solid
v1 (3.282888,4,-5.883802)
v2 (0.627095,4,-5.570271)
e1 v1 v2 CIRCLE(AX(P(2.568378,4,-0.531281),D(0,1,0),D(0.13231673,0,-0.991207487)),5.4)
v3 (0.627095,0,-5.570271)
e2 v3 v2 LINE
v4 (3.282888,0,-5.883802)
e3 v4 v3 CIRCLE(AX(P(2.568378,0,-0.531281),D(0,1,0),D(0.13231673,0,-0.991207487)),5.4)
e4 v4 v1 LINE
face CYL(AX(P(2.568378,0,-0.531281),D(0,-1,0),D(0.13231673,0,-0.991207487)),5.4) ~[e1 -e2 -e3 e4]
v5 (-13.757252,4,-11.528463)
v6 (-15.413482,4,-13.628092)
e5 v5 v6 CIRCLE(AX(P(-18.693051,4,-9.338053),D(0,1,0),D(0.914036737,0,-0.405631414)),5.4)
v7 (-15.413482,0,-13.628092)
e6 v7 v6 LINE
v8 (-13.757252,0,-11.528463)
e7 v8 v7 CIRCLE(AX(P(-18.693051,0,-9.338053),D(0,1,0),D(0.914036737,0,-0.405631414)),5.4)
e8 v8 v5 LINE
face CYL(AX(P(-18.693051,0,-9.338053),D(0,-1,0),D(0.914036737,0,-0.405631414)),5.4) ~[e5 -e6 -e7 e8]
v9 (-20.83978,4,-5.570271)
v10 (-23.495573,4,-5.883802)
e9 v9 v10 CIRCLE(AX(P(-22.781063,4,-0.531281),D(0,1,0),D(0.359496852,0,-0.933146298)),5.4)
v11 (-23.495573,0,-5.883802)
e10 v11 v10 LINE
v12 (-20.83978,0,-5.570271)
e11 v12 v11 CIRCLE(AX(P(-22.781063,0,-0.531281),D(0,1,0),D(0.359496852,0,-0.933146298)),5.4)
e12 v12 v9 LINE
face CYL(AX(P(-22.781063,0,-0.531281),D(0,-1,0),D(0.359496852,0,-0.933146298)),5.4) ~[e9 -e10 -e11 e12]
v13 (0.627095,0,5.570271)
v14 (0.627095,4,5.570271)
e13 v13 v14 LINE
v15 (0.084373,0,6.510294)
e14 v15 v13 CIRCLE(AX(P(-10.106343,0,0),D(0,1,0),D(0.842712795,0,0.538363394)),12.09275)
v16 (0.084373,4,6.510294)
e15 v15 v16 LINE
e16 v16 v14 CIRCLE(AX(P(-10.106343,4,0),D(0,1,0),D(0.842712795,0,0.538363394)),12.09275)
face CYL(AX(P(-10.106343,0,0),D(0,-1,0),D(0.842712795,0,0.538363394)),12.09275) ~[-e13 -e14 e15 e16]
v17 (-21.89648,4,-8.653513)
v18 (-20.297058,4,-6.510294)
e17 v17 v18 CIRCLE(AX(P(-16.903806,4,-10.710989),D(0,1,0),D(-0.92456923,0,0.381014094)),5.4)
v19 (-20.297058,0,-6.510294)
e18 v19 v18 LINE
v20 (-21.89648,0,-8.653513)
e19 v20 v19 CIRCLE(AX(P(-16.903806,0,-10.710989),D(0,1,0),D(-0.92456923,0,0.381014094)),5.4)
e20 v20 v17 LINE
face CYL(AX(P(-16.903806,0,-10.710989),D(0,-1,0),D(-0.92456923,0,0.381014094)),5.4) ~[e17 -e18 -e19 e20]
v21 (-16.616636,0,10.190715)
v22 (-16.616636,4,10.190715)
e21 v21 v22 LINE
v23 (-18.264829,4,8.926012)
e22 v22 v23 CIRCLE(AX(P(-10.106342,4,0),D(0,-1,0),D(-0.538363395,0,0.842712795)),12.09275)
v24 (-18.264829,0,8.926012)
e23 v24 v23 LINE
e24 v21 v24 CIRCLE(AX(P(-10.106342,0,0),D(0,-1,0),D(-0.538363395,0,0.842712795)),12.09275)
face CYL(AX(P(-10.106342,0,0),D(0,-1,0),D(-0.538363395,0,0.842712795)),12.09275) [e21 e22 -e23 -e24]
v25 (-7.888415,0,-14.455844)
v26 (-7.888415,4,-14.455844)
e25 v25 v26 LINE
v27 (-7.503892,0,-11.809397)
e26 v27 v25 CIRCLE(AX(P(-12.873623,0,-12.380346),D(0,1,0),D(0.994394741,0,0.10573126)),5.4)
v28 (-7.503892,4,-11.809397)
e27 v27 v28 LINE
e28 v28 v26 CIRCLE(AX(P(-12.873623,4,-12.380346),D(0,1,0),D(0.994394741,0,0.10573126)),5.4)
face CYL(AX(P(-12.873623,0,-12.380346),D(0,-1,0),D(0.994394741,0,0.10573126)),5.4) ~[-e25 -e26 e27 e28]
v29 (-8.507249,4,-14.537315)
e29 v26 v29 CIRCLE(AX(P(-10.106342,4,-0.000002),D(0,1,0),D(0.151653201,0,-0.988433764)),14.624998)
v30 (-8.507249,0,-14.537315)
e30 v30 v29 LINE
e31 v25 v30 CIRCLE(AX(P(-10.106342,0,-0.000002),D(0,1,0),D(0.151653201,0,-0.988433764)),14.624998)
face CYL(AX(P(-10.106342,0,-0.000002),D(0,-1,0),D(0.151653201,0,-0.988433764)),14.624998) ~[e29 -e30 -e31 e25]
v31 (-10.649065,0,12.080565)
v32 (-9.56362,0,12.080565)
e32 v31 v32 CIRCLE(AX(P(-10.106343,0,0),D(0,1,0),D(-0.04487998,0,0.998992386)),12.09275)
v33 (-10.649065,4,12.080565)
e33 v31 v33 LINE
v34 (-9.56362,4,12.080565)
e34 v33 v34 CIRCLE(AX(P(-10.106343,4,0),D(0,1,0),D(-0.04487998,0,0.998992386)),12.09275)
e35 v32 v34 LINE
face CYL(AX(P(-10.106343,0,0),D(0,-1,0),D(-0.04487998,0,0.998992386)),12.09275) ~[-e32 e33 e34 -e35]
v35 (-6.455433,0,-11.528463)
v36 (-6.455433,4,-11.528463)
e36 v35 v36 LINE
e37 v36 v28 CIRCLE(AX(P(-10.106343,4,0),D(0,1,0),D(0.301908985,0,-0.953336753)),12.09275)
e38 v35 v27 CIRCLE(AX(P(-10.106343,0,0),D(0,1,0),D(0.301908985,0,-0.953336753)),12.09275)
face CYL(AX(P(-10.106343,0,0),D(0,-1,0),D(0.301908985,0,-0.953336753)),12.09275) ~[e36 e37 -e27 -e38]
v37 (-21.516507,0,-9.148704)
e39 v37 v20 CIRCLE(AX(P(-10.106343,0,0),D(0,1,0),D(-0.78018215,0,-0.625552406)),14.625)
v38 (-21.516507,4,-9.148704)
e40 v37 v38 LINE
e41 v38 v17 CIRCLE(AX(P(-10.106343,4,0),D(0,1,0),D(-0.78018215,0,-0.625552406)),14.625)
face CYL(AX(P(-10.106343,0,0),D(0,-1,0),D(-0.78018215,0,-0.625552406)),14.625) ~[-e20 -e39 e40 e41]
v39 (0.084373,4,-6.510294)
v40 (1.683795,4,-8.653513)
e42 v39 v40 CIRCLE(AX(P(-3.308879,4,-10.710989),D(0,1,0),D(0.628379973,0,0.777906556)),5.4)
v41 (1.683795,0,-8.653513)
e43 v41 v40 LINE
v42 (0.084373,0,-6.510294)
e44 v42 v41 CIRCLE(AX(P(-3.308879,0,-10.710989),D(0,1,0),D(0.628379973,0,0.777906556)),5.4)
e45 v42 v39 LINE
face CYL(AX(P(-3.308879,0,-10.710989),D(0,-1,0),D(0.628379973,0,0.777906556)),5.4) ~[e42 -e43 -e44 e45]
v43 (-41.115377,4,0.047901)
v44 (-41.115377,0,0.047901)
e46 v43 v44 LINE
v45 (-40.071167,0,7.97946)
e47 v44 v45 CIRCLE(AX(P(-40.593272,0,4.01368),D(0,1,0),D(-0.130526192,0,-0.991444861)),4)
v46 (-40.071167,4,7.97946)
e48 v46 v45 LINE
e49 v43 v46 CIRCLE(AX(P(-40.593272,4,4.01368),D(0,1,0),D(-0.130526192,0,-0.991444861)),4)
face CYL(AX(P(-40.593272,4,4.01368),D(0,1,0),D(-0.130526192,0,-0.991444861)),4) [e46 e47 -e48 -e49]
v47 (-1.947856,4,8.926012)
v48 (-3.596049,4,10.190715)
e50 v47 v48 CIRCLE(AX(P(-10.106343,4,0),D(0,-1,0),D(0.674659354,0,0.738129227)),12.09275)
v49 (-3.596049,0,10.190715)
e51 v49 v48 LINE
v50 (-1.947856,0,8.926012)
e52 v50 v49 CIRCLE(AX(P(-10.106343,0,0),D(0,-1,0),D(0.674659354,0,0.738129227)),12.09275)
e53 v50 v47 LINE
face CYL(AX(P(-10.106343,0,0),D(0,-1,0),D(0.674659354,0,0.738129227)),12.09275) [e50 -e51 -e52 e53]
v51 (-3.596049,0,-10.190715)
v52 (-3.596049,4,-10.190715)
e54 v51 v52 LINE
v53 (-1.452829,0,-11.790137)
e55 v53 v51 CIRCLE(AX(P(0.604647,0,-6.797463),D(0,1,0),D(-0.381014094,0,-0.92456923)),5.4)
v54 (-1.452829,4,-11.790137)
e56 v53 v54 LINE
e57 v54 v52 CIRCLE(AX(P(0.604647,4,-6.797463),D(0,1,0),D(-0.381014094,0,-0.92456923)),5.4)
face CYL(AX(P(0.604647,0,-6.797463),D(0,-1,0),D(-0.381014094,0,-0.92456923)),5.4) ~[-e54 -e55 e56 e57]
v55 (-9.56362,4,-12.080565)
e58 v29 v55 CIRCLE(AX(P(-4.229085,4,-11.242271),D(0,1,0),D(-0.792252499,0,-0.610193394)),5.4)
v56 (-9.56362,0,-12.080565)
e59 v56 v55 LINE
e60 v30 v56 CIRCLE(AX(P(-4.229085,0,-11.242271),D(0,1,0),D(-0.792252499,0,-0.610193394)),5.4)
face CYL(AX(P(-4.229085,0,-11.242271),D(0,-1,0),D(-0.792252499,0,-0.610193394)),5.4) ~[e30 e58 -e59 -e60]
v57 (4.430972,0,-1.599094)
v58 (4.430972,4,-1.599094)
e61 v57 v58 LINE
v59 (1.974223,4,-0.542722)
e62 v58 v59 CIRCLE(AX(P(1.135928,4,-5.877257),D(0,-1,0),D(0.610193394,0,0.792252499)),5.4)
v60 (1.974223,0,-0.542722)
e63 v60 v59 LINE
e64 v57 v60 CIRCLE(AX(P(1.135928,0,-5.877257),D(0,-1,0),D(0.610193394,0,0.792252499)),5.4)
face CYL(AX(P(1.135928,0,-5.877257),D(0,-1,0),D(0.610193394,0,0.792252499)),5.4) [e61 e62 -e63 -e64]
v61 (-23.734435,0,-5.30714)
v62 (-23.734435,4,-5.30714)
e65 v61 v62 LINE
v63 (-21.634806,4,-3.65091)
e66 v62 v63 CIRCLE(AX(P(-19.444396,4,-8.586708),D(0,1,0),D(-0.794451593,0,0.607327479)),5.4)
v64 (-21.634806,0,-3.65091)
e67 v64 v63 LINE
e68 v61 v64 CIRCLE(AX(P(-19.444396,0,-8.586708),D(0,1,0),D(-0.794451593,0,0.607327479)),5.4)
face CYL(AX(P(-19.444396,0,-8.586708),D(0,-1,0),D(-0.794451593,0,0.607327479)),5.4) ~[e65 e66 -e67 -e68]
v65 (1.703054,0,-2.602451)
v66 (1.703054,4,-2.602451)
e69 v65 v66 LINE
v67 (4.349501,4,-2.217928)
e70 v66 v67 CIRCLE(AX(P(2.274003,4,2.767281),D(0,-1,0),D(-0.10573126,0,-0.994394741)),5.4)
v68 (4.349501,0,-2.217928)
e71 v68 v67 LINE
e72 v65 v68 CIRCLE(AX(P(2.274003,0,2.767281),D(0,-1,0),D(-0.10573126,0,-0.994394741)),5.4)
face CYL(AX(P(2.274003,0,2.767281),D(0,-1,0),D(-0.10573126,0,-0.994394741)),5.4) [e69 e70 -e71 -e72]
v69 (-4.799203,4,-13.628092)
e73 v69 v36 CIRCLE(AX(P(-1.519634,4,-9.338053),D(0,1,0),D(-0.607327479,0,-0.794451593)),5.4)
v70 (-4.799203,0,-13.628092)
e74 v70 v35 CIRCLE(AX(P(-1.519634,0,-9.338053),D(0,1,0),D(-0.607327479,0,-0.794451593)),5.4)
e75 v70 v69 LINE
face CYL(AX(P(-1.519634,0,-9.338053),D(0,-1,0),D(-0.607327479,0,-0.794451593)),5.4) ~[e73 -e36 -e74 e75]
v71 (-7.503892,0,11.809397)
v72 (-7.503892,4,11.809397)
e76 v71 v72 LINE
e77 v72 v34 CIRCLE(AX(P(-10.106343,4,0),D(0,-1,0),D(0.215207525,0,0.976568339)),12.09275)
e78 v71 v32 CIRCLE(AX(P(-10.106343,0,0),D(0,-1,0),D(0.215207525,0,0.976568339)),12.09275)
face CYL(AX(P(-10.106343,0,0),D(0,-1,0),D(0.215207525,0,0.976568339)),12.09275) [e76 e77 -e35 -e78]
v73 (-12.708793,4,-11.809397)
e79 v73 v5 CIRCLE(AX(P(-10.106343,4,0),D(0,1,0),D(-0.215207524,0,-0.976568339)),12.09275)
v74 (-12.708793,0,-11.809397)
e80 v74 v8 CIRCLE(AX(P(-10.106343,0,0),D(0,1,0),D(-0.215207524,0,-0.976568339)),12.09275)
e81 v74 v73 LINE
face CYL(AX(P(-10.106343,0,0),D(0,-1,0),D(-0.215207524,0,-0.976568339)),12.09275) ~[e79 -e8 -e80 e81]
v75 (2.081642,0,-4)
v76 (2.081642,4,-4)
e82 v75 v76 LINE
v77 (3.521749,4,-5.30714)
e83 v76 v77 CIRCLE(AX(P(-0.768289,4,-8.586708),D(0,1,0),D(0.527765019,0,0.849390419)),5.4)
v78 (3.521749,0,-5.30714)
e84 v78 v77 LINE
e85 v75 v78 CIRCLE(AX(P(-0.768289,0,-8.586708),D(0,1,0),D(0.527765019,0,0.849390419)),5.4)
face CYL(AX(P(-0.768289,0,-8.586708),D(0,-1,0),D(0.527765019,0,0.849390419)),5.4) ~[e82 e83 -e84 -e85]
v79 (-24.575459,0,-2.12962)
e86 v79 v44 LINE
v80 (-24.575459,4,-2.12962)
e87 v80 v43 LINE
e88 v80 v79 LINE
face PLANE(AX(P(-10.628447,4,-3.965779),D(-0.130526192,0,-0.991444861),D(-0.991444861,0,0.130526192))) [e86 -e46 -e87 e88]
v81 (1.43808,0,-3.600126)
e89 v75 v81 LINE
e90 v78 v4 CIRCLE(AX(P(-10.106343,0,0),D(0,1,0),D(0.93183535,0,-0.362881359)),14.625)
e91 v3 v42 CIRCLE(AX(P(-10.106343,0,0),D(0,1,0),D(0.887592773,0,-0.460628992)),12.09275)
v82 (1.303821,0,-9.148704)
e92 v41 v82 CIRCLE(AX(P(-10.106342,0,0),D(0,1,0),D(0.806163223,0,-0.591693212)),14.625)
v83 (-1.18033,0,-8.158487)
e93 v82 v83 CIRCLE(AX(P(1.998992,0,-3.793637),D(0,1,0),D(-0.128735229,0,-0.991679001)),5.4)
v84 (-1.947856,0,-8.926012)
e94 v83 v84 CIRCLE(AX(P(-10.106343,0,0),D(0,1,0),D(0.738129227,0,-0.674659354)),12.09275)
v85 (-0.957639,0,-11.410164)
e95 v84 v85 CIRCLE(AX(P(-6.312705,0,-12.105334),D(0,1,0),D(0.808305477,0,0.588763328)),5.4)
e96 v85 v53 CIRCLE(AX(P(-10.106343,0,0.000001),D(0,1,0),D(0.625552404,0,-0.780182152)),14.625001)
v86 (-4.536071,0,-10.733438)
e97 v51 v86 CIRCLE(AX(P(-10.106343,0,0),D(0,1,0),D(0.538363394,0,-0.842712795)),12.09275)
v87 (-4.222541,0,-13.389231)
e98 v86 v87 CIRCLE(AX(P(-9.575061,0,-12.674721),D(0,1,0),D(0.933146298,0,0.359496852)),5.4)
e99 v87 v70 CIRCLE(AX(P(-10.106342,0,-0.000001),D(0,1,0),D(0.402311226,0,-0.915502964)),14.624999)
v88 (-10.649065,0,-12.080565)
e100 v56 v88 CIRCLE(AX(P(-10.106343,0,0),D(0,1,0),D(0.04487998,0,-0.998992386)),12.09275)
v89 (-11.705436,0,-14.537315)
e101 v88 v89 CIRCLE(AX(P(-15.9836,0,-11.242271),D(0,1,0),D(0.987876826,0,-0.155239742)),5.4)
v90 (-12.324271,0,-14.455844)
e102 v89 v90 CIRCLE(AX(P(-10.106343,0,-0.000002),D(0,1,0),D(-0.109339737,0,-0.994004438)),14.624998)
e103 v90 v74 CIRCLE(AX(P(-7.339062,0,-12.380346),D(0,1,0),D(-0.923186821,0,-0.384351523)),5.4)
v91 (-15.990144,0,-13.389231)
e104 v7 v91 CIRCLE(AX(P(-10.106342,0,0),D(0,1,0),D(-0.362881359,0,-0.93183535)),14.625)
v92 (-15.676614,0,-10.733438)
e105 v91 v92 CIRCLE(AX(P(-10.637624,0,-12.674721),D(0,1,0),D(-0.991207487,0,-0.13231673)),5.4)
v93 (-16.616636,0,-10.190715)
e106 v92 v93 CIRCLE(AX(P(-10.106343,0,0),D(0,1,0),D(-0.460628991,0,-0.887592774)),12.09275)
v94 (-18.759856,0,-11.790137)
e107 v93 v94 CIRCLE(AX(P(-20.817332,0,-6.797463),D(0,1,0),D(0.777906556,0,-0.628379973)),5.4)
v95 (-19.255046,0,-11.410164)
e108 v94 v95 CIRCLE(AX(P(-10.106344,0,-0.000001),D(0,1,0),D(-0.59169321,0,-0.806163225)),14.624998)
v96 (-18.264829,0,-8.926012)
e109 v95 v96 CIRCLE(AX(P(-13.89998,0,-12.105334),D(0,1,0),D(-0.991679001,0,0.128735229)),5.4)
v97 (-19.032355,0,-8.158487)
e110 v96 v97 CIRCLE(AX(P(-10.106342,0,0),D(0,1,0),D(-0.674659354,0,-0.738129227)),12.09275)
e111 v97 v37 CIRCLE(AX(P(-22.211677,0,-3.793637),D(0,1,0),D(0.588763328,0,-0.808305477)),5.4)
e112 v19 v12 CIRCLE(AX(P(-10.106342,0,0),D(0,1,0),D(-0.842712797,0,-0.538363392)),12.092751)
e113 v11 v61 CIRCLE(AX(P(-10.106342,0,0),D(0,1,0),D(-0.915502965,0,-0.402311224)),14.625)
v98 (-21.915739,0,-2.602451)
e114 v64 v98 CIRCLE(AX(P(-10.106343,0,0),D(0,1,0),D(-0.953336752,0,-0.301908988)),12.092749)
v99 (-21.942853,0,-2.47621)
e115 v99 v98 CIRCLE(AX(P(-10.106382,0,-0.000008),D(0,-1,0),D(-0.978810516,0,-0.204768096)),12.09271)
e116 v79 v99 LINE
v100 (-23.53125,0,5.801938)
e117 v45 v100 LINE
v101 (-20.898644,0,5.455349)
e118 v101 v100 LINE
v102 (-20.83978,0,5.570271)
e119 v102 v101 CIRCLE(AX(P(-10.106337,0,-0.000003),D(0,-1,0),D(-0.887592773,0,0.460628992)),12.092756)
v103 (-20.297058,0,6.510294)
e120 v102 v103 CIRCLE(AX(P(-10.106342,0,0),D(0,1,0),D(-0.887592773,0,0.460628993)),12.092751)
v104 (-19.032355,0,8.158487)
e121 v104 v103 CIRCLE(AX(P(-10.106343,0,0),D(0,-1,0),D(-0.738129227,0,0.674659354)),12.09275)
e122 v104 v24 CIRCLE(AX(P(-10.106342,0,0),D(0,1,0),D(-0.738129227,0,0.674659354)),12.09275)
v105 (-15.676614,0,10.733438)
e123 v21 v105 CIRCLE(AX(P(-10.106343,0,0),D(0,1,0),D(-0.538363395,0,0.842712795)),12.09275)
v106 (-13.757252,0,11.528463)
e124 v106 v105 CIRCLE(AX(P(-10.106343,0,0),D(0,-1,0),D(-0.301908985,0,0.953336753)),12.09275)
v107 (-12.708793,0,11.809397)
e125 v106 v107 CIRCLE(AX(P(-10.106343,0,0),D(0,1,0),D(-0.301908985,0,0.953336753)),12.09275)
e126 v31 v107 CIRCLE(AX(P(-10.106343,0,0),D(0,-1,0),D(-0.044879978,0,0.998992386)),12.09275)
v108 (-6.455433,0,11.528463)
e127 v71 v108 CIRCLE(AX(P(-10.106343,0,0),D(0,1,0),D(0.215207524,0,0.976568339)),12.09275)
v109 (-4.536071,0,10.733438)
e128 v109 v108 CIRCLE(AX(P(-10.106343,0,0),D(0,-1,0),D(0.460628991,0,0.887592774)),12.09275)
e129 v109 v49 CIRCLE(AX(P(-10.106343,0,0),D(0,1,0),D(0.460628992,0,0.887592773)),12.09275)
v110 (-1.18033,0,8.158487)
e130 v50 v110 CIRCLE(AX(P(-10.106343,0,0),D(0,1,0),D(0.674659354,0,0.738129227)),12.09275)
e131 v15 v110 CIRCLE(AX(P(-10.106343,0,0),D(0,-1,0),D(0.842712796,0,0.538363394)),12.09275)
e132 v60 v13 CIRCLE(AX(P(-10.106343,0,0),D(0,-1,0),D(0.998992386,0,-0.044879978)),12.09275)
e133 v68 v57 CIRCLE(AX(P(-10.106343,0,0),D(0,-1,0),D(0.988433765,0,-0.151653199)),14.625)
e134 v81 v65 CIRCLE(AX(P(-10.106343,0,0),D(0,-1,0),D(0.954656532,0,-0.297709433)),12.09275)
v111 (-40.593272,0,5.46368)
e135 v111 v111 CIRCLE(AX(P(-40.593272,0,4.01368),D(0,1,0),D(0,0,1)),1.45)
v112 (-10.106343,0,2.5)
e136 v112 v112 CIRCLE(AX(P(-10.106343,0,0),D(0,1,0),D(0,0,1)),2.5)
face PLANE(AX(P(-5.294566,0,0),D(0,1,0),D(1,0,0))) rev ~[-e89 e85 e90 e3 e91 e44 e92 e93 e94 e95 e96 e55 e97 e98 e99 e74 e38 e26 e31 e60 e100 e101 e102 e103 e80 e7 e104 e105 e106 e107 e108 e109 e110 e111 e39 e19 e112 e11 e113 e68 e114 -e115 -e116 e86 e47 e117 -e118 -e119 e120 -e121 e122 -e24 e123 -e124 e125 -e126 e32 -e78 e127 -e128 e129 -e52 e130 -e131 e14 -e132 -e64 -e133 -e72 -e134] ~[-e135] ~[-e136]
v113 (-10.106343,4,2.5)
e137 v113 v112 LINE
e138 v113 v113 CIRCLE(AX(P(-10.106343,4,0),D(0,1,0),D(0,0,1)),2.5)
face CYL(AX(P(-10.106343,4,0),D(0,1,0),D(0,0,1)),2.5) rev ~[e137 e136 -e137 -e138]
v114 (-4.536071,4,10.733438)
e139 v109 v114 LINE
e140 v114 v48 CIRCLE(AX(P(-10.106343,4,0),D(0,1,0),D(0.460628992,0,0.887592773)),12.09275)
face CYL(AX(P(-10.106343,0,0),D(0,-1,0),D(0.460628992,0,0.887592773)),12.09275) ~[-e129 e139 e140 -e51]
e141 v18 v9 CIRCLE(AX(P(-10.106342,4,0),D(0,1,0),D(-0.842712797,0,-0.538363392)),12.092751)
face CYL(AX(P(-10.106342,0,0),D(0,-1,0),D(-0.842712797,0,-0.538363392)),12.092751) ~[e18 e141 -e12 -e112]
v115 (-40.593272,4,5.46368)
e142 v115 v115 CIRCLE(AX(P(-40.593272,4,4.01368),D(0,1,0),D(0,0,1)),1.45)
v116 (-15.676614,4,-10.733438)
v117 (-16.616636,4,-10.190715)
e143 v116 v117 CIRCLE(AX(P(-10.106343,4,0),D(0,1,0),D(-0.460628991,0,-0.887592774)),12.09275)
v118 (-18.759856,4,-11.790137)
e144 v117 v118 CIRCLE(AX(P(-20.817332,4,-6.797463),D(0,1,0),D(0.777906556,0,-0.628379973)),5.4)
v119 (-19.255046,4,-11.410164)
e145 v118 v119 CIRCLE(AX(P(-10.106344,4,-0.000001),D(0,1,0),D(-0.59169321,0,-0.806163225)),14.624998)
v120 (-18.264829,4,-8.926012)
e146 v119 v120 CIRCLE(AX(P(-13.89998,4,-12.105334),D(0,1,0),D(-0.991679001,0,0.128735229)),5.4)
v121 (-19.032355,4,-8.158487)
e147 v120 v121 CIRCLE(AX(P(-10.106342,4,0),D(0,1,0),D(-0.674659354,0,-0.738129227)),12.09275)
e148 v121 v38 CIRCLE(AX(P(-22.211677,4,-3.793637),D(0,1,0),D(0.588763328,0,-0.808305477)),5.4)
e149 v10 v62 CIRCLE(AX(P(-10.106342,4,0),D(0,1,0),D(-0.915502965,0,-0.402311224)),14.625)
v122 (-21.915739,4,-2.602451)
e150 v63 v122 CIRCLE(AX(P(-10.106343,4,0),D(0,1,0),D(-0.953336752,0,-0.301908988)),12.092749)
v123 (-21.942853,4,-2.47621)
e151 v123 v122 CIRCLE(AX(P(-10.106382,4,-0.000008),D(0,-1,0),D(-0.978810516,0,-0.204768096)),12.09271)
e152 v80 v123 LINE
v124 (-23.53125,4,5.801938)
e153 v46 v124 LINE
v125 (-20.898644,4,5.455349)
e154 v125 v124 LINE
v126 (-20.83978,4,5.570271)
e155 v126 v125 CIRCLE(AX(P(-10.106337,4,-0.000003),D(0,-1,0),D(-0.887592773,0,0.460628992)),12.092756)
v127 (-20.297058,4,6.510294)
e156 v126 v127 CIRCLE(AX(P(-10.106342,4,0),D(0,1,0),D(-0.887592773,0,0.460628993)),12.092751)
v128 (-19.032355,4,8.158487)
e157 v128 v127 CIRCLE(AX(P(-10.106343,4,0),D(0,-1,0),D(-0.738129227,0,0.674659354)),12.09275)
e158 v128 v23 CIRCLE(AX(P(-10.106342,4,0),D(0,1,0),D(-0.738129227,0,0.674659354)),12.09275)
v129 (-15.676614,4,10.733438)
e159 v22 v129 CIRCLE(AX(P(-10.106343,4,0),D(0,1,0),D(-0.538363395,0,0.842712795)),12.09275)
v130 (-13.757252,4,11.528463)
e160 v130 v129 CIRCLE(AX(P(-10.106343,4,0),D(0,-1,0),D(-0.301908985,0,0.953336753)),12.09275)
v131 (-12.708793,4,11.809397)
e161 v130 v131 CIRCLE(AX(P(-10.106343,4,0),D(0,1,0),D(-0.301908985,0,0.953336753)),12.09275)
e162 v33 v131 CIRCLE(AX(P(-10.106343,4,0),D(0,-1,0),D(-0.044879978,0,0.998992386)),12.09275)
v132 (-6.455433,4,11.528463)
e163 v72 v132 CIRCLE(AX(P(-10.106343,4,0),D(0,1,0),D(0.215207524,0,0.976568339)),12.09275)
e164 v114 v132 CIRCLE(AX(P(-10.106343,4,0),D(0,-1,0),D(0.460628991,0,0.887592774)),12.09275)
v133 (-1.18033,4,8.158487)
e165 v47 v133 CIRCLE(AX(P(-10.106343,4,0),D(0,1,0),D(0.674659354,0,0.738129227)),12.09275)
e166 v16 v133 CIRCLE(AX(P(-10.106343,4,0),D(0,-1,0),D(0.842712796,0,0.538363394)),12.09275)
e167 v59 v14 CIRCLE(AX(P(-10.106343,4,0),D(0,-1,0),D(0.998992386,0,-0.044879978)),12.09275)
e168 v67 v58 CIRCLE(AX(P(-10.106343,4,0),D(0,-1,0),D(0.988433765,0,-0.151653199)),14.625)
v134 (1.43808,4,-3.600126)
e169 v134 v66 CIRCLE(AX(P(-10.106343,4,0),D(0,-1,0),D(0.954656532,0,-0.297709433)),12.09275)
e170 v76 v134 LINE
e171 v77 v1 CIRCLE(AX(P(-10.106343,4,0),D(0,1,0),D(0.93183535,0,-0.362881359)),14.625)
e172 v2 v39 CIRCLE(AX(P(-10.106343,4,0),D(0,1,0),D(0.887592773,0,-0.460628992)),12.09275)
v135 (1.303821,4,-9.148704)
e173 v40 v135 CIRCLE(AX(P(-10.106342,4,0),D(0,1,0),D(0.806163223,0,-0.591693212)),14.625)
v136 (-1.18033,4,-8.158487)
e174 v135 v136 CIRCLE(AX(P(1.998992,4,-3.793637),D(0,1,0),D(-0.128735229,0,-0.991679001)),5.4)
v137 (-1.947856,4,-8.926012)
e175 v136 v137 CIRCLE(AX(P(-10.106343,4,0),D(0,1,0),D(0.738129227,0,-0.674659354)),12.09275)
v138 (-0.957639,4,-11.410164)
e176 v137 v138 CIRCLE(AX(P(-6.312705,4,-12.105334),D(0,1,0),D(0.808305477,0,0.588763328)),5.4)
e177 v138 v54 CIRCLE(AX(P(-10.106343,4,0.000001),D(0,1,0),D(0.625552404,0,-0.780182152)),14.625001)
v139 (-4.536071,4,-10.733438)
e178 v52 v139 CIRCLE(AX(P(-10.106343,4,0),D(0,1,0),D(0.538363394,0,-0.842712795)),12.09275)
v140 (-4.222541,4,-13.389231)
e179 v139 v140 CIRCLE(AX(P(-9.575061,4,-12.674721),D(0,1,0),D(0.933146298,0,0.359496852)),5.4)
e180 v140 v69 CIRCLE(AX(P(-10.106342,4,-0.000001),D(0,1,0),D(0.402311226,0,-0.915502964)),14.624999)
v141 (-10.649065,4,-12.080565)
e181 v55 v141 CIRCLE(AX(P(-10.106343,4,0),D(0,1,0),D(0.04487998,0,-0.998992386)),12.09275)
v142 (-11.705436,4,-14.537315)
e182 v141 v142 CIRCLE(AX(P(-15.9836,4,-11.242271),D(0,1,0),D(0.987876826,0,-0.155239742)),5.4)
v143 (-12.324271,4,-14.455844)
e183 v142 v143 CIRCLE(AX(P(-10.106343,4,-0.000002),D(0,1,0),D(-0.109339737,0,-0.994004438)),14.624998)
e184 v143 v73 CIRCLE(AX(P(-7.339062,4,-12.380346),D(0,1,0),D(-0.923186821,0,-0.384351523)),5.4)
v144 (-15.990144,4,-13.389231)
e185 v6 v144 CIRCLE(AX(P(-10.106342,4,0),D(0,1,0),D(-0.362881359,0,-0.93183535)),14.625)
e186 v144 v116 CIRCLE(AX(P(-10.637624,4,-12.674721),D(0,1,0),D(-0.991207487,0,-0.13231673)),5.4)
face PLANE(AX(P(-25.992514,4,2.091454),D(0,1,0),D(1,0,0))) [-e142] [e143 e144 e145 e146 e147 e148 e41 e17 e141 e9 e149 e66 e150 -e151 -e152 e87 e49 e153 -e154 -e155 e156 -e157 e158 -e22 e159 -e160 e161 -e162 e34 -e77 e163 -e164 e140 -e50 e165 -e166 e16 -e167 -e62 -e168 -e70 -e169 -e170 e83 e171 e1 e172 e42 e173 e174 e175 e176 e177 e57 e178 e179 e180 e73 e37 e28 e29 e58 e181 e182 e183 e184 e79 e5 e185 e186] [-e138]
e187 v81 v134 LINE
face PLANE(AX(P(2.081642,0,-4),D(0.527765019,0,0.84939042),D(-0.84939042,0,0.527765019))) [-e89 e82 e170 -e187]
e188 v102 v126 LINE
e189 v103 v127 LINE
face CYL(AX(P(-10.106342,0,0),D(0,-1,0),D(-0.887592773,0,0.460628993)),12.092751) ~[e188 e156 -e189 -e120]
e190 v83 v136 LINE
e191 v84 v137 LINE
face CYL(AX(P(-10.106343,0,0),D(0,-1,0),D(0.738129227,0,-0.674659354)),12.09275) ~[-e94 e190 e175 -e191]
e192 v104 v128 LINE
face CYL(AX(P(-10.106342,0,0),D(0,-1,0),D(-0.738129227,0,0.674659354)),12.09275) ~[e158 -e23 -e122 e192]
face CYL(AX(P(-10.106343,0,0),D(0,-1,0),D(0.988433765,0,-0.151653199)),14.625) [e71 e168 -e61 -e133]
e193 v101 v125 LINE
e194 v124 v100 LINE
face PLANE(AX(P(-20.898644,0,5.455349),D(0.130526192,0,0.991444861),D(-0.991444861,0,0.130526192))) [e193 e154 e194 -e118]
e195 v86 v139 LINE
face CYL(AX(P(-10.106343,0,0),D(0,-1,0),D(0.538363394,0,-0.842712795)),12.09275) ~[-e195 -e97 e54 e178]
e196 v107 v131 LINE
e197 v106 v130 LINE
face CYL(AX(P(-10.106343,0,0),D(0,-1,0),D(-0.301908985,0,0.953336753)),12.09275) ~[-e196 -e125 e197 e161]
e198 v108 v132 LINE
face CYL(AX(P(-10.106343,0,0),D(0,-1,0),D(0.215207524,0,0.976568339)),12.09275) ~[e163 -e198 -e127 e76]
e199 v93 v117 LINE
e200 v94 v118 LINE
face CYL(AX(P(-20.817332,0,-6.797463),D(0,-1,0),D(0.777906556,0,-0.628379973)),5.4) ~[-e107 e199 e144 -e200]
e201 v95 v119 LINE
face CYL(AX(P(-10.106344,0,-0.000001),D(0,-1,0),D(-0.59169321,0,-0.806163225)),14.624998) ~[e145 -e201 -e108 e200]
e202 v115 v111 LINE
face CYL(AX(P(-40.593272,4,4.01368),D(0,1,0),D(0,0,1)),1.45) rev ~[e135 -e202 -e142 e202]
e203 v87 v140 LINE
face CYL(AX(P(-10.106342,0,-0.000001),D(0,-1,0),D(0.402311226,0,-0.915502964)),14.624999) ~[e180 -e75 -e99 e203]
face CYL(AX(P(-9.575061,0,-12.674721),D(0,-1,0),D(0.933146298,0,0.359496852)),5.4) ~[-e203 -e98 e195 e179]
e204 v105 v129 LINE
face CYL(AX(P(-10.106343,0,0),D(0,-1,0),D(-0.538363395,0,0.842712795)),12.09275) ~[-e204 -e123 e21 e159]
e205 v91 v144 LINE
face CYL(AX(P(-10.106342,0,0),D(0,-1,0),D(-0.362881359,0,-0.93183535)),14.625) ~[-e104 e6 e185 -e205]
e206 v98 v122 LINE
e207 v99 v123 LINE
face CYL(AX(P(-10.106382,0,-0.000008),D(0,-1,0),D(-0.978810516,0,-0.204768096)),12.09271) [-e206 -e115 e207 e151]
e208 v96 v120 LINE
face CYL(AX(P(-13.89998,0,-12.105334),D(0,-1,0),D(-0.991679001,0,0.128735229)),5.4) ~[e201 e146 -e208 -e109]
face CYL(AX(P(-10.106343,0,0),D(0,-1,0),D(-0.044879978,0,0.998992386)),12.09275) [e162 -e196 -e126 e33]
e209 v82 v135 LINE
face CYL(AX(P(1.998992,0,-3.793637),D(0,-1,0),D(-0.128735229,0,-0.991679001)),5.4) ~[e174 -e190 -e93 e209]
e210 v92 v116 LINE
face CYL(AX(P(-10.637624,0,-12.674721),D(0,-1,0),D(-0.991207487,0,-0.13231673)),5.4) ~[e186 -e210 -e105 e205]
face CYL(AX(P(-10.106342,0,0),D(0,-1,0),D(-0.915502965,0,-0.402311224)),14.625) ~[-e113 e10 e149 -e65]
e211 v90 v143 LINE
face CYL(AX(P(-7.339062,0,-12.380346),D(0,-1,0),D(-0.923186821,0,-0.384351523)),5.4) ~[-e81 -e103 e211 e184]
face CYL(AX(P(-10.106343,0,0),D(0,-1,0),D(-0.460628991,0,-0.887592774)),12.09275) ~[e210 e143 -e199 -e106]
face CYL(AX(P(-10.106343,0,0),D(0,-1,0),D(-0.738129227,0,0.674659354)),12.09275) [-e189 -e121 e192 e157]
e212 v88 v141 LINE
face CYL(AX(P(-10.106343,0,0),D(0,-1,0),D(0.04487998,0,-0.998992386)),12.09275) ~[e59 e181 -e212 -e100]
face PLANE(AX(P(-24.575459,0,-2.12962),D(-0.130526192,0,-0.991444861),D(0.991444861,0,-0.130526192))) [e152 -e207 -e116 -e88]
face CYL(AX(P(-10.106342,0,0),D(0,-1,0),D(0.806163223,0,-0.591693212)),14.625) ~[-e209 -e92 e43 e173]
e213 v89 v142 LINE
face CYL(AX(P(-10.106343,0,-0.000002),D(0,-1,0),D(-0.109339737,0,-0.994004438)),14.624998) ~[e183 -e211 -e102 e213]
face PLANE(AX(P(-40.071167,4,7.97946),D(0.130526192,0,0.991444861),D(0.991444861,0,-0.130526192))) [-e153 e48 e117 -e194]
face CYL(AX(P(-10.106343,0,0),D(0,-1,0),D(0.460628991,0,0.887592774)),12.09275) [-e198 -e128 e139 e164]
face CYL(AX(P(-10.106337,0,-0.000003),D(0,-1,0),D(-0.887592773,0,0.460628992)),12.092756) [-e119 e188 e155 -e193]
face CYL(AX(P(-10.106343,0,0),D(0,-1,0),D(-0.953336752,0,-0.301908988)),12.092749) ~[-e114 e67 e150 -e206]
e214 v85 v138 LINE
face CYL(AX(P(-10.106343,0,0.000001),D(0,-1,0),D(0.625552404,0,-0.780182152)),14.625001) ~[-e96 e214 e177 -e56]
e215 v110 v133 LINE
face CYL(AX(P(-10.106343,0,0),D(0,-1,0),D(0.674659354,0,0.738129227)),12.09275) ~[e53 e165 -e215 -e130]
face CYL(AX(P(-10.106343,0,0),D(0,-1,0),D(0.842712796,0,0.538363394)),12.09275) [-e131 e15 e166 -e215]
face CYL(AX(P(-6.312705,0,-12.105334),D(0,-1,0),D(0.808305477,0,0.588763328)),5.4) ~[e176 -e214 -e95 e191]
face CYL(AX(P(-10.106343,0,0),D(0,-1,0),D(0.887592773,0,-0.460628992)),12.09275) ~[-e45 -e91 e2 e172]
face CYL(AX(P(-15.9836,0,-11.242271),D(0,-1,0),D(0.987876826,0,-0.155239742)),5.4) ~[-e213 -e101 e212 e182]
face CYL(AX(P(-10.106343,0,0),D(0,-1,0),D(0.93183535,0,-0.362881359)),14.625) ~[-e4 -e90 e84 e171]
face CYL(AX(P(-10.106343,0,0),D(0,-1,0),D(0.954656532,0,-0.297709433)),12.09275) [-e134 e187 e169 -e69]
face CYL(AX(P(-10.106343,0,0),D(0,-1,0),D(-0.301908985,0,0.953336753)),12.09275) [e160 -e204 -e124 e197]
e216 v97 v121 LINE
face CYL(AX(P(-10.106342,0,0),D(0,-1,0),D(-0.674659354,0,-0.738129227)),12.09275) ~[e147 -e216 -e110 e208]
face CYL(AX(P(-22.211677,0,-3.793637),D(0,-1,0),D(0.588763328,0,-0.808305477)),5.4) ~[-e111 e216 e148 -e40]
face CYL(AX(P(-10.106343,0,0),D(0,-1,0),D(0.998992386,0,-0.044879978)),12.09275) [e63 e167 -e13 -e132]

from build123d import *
from build123d.topology import SkipClean

# Parameters (mm, degrees)
SKETCH1_R           = 1.5
BOSS_EXTRUDE1_DEPTH = 4
SKETCH3_R           = 1.45
BOSS_EXTRUDE2_DEPTH = 4
CUT_EXTRUDE1_START  = -4
CUT_EXTRUDE1_DEPTH  = 4
CUT_EXTRUDE2_REACH  = 49.073
SKETCH5_R           = 2.5


with BuildPart() as part:
    # Sketch1 → Boss-Extrude1 (new body)
    with BuildSketch(Plane(origin=(0, 0, 0), x_dir=(1, 0, 0), z_dir=(0, 1, 0))):
        with BuildLine():
            Line((20.643657446, 4), (2.081641936, 4))
            ThreePointArc((2.081641936, 4), (2.861028333, 4.588201733), (3.521749436, 5.30713988))
            ThreePointArc((3.521749436, 5.30713988), (3.405395609, 5.596745198), (3.282888305, 5.883801663))
            ThreePointArc((3.282888305, 5.883801663), (1.93527598, 5.894040025), (0.627094961, 5.57027124))
            ThreePointArc((0.627094961, 5.57027124), (0.366286148, 6.046375), (0.084372603, 6.510293938))
            ThreePointArc((0.084372603, 6.510293938), (1.018855105, 7.48132754), (1.683794586, 8.65351323))
            ThreePointArc((1.683794586, 8.65351323), (1.496450048, 8.903135899), (1.303821399, 9.148703928))
            ThreePointArc((1.303821399, 9.148703928), (-0.000522033, 8.809805691), (-1.180330337, 8.158486898))
            ThreePointArc((-1.180330337, 8.158486898), (-1.555477026, 8.550865528), (-1.947855656, 8.926012217))
            ThreePointArc((-1.947855656, 8.926012217), (-1.296536862, 10.105820521), (-0.957638625, 11.410163953))
            ThreePointArc((-0.957638625, 11.410163953), (-1.203206655, 11.602792602), (-1.452829324, 11.79013714))
            ThreePointArc((-1.452829324, 11.79013714), (-2.625015014, 11.125197659), (-3.596048616, 10.190715157))
            ThreePointArc((-3.596048616, 10.190715157), (-4.059967554, 10.472628702), (-4.536071314, 10.733437515))
            ThreePointArc((-4.536071314, 10.733437515), (-4.212302529, 12.041618533), (-4.222540891, 13.389230859))
            ThreePointArc((-4.222540891, 13.389230859), (-4.509597355, 13.511738163), (-4.799202674, 13.62809199))
            ThreePointArc((-4.799202674, 13.62809199), (-5.759348103, 12.682425791), (-6.455432668, 11.528463019))
            ThreePointArc((-6.455432668, 11.528463019), (-6.976508546, 11.680699536), (-7.503891752, 11.809396783))
            ThreePointArc((-7.503891752, 11.809396783), (-7.529737283, 13.156800143), (-7.888414517, 14.455843809))
            ThreePointArc((-7.888414517, 14.455843809), (-8.197396993, 14.499881098), (-8.507248835, 14.537314892))
            ThreePointArc((-8.507248835, 14.537314892), (-9.18992168, 13.375367565), (-9.563620196, 12.080565177))
            ThreePointArc((-9.563620196, 12.080565177), (-10.106342554, 12.09275), (-10.649064912, 12.080565177))
            ThreePointArc((-10.649064912, 12.080565177), (-11.022763428, 13.375367565), (-11.705436272, 14.537314892))
            ThreePointArc((-11.705436272, 14.537314892), (-12.015288115, 14.499881098), (-12.324270591, 14.455843809))
            ThreePointArc((-12.324270591, 14.455843809), (-12.682947825, 13.156800143), (-12.708793355, 11.809396783))
            ThreePointArc((-12.708793355, 11.809396783), (-13.236176561, 11.680699536), (-13.757252439, 11.528463019))
            ThreePointArc((-13.757252439, 11.528463019), (-14.453337005, 12.682425791), (-15.413482434, 13.62809199))
            ThreePointArc((-15.413482434, 13.62809199), (-15.703087752, 13.511738163), (-15.990144217, 13.389230859))
            ThreePointArc((-15.990144217, 13.389230859), (-16.000382579, 12.041618533), (-15.676613793, 10.733437515))
            ThreePointArc((-15.676613793, 10.733437515), (-16.152717554, 10.472628702), (-16.616636492, 10.190715157))
            ThreePointArc((-16.616636492, 10.190715157), (-17.587670094, 11.125197659), (-18.759855783, 11.79013714))
            ThreePointArc((-18.759855783, 11.79013714), (-19.009478453, 11.602792602), (-19.255046482, 11.410163953))
            ThreePointArc((-19.255046482, 11.410163953), (-18.916148245, 10.105820521), (-18.264829452, 8.926012217))
            ThreePointArc((-18.264829452, 8.926012217), (-18.657208082, 8.550865528), (-19.032354771, 8.158486898))
            ThreePointArc((-19.032354771, 8.158486898), (-20.212163074, 8.809805691), (-21.516506507, 9.148703928))
            ThreePointArc((-21.516506507, 9.148703928), (-21.709135156, 8.903135899), (-21.896479694, 8.65351323))
            ThreePointArc((-21.896479694, 8.65351323), (-21.231540213, 7.48132754), (-20.297057711, 6.510293938))
            ThreePointArc((-20.297057711, 6.510293938), (-20.578971255, 6.046375), (-20.839780068, 5.57027124))
            ThreePointArc((-20.839780068, 5.57027124), (-22.147961087, 5.894040025), (-23.495573413, 5.883801663))
            ThreePointArc((-23.495573413, 5.883801663), (-23.618080717, 5.596745198), (-23.734434544, 5.30713988))
            ThreePointArc((-23.734434544, 5.30713988), (-22.788768345, 4.346994451), (-21.634805572, 3.650909885))
            ThreePointArc((-21.634805572, 3.650909885), (-21.78704209, 3.129834008), (-21.915739337, 2.602450802))
            ThreePointArc((-21.915739337, 2.602450802), (-23.263142697, 2.576605271), (-24.562186363, 2.217928037))
            ThreePointArc((-24.562186363, 2.217928037), (-24.606223651, 1.908945561), (-24.643657446, 1.599093719))
            ThreePointArc((-24.643657446, 1.599093719), (-23.481710119, 0.916420874), (-22.186907731, 0.542722358))
            ThreePointArc((-22.186907731, 0.542722358), (-22.199092554, 0), (-22.186907731, -0.542722358))
            ThreePointArc((-22.186907731, -0.542722358), (-23.481710119, -0.916420874), (-24.643657446, -1.599093719))
            ThreePointArc((-24.643657446, -1.599093719), (-24.606223651, -1.908945561), (-24.562186363, -2.217928037))
            ThreePointArc((-24.562186363, -2.217928037), (-23.263142697, -2.576605271), (-21.915739337, -2.602450802))
            ThreePointArc((-21.915739337, -2.602450802), (-21.78704209, -3.129834008), (-21.634805572, -3.650909885))
            ThreePointArc((-21.634805572, -3.650909885), (-22.788768345, -4.346994451), (-23.734434544, -5.30713988))
            ThreePointArc((-23.734434544, -5.30713988), (-23.618080717, -5.596745198), (-23.495573413, -5.883801663))
            ThreePointArc((-23.495573413, -5.883801663), (-22.147961087, -5.894040025), (-20.839780068, -5.57027124))
            ThreePointArc((-20.839780068, -5.57027124), (-20.578971255, -6.046375), (-20.297057711, -6.510293938))
            ThreePointArc((-20.297057711, -6.510293938), (-21.231540213, -7.48132754), (-21.896479694, -8.65351323))
            ThreePointArc((-21.896479694, -8.65351323), (-21.709135156, -8.903135899), (-21.516506507, -9.148703928))
            ThreePointArc((-21.516506507, -9.148703928), (-20.212163074, -8.809805691), (-19.032354771, -8.158486898))
            ThreePointArc((-19.032354771, -8.158486898), (-18.657208082, -8.550865528), (-18.264829452, -8.926012217))
            ThreePointArc((-18.264829452, -8.926012217), (-18.916148245, -10.105820521), (-19.255046482, -11.410163953))
            ThreePointArc((-19.255046482, -11.410163953), (-19.009478453, -11.602792602), (-18.759855783, -11.79013714))
            ThreePointArc((-18.759855783, -11.79013714), (-17.587670094, -11.125197659), (-16.616636492, -10.190715157))
            ThreePointArc((-16.616636492, -10.190715157), (-16.152717554, -10.472628702), (-15.676613793, -10.733437515))
            ThreePointArc((-15.676613793, -10.733437515), (-16.000382579, -12.041618533), (-15.990144217, -13.389230859))
            ThreePointArc((-15.990144217, -13.389230859), (-15.703087752, -13.511738163), (-15.413482434, -13.62809199))
            ThreePointArc((-15.413482434, -13.62809199), (-14.453337005, -12.682425791), (-13.757252439, -11.528463019))
            ThreePointArc((-13.757252439, -11.528463019), (-13.236176561, -11.680699536), (-12.708793355, -11.809396783))
            ThreePointArc((-12.708793355, -11.809396783), (-12.682947825, -13.156800143), (-12.324270591, -14.455843809))
            ThreePointArc((-12.324270591, -14.455843809), (-12.015288115, -14.499881098), (-11.705436272, -14.537314892))
            ThreePointArc((-11.705436272, -14.537314892), (-11.022763428, -13.375367565), (-10.649064912, -12.080565177))
            ThreePointArc((-10.649064912, -12.080565177), (-10.106342554, -12.09275), (-9.563620196, -12.080565177))
            ThreePointArc((-9.563620196, -12.080565177), (-9.18992168, -13.375367565), (-8.507248835, -14.537314892))
            ThreePointArc((-8.507248835, -14.537314892), (-8.197396993, -14.499881098), (-7.888414517, -14.455843809))
            ThreePointArc((-7.888414517, -14.455843809), (-7.529737283, -13.156800143), (-7.503891752, -11.809396783))
            ThreePointArc((-7.503891752, -11.809396783), (-6.976508546, -11.680699536), (-6.455432668, -11.528463019))
            ThreePointArc((-6.455432668, -11.528463019), (-5.759348103, -12.682425791), (-4.799202674, -13.62809199))
            ThreePointArc((-4.799202674, -13.62809199), (-4.509597355, -13.511738163), (-4.222540891, -13.389230859))
            ThreePointArc((-4.222540891, -13.389230859), (-4.212302529, -12.041618533), (-4.536071314, -10.733437515))
            ThreePointArc((-4.536071314, -10.733437515), (-4.059967554, -10.472628702), (-3.596048616, -10.190715157))
            ThreePointArc((-3.596048616, -10.190715157), (-2.625015014, -11.125197659), (-1.452829324, -11.79013714))
            ThreePointArc((-1.452829324, -11.79013714), (-1.203206655, -11.602792602), (-0.957638625, -11.410163953))
            ThreePointArc((-0.957638625, -11.410163953), (-1.296536862, -10.105820521), (-1.947855656, -8.926012217))
            ThreePointArc((-1.947855656, -8.926012217), (-1.555477026, -8.550865528), (-1.180330337, -8.158486898))
            ThreePointArc((-1.180330337, -8.158486898), (-0.000522033, -8.809805691), (1.303821399, -9.148703928))
            ThreePointArc((1.303821399, -9.148703928), (1.496450048, -8.903135899), (1.683794586, -8.65351323))
            ThreePointArc((1.683794586, -8.65351323), (1.018855105, -7.48132754), (0.084372603, -6.510293938))
            ThreePointArc((0.084372603, -6.510293938), (0.366286148, -6.046375), (0.627094961, -5.57027124))
            ThreePointArc((0.627094961, -5.57027124), (1.93527598, -5.894040025), (3.282888305, -5.883801663))
            ThreePointArc((3.282888305, -5.883801663), (3.405395609, -5.596745198), (3.521749436, -5.30713988))
            ThreePointArc((3.521749436, -5.30713988), (2.861028333, -4.588201733), (2.081641936, -4))
            Line((2.081641936, -4), (20.643657446, -4))
            ThreePointArc((20.643657446, -4), (24.643657446, 0), (20.643657446, 4))
        make_face()
        with Locations(Location((-10.106342554, 0, 0), (0, 0, 270))):
            Circle(SKETCH1_R, mode=Mode.SUBTRACT)
        with Locations(Location((20.643657446, 0, 0), (0, 0, 270))):
            Circle(SKETCH1_R, mode=Mode.SUBTRACT)
    extrude(amount=BOSS_EXTRUDE1_DEPTH)

    # Sketch3 → Boss-Extrude2 (add)
    with BuildSketch(Plane(origin=(0, 4, 0), x_dir=(1, 0, 0), z_dir=(0, 1, 0))):
        with BuildLine():
            ThreePointArc((-9.584237785, -3.965779445), (-14.072121999, -0.522104769), (-10.628447323, 3.965779445))
            Line((-10.628447323, 3.965779445), (-41.11537681, -0.047900965))
            ThreePointArc((-41.11537681, -0.047900965), (-44.559051487, -4.53578518), (-40.071167272, -7.979459856))
            Line((-40.071167272, -7.979459856), (-9.584237785, -3.965779445))
        make_face()
        with Locations(Location((-40.593272041, -4.013680411, 0), (0, 0, 270))):
            Circle(SKETCH3_R, mode=Mode.SUBTRACT)
    extrude(amount=-BOSS_EXTRUDE2_DEPTH)

    # Sketch4 → Cut-Extrude1 (cut)
    with SkipClean():  # the faces are left unmerged after this step: merging them gives an invalid solid
        with BuildSketch(Plane(origin=(0, 4, 0), x_dir=(1, 0, 0), z_dir=(0, 1, 0)).offset(CUT_EXTRUDE1_START)):
            with BuildLine():
                ThreePointArc((20.643657446, -4), (24.643657446, 0), (20.643657446, 4))
                Line((20.643657446, 4), (2.081641936, 4))
                Line((2.081641936, 4), (1.43808022, 3.600125745))
                ThreePointArc((1.43808022, 3.600125745), (1.581217534, 3.104116905), (1.70305423, 2.602450802))
                ThreePointArc((1.70305423, 2.602450802), (3.050457589, 2.576605271), (4.349501255, 2.217928037))
                ThreePointArc((4.349501255, 2.217928037), (4.393538544, 1.908945561), (4.430972339, 1.599093719))
                ThreePointArc((4.430972339, 1.599093719), (3.269025011, 0.916420874), (1.974222624, 0.542722358))
                ThreePointArc((1.974222624, 0.542722358), (1.70305423, -2.602450802), (0.627094961, -5.57027124))
                ThreePointArc((0.627094961, -5.57027124), (1.93527598, -5.894040025), (3.282888305, -5.883801663))
                ThreePointArc((3.282888305, -5.883801663), (3.405395609, -5.596745198), (3.521749436, -5.30713988))
                ThreePointArc((3.521749436, -5.30713988), (2.861028333, -4.588201733), (2.081641936, -4))
                Line((2.081641936, -4), (20.643657446, -4))
            make_face()
            with BuildLine():
                ThreePointArc((1.683794586, -8.65351323), (1.018855105, -7.48132754), (0.084372603, -6.510293938))
                ThreePointArc((0.084372603, -6.510293938), (-0.512518948, -7.361599771), (-1.180330337, -8.158486898))
                ThreePointArc((-1.180330337, -8.158486898), (-0.000522033, -8.809805691), (1.303821399, -9.148703928))
                ThreePointArc((1.303821399, -9.148703928), (1.496450048, -8.903135899), (1.683794586, -8.65351323))
            make_face()
            with BuildLine():
                ThreePointArc((-0.957638625, -11.410163953), (-1.296536862, -10.105820521), (-1.947855656, -8.926012217))
                ThreePointArc((-1.947855656, -8.926012217), (-2.744742783, -9.593823606), (-3.596048616, -10.190715157))
                ThreePointArc((-3.596048616, -10.190715157), (-2.625015014, -11.125197659), (-1.452829324, -11.79013714))
                ThreePointArc((-1.452829324, -11.79013714), (-1.203206655, -11.602792602), (-0.957638625, -11.410163953))
            make_face()
            with BuildLine():
                ThreePointArc((-4.222540891, -13.389230859), (-4.212302529, -12.041618533), (-4.536071314, -10.733437515))
                ThreePointArc((-4.536071314, -10.733437515), (-5.478647477, -11.172244217), (-6.455432668, -11.528463019))
                ThreePointArc((-6.455432668, -11.528463019), (-5.759348103, -12.682425791), (-4.799202674, -13.62809199))
                ThreePointArc((-4.799202674, -13.62809199), (-4.509597355, -13.511738163), (-4.222540891, -13.389230859))
            make_face()
            with BuildLine():
                ThreePointArc((-7.888414517, -14.455843809), (-7.529737283, -13.156800143), (-7.503891752, -11.809396783))
                ThreePointArc((-7.503891752, -11.809396783), (-8.527921943, -11.989294847), (-9.563620196, -12.080565177))
                ThreePointArc((-9.563620196, -12.080565177), (-9.18992168, -13.375367565), (-8.507248835, -14.537314892))
                ThreePointArc((-8.507248835, -14.537314892), (-8.197396993, -14.499881098), (-7.888414517, -14.455843809))
            make_face()
            with BuildLine():
                ThreePointArc((-11.705436272, -14.537314892), (-11.022763428, -13.375367565), (-10.649064912, -12.080565177))
                ThreePointArc((-10.649064912, -12.080565177), (-11.684763165, -11.989294847), (-12.708793355, -11.809396783))
                ThreePointArc((-12.708793355, -11.809396783), (-12.682947825, -13.156800143), (-12.324270591, -14.455843809))
                ThreePointArc((-12.324270591, -14.455843809), (-12.015288115, -14.499881098), (-11.705436272, -14.537314892))
            make_face()
            with BuildLine():
                ThreePointArc((-15.413482434, -13.62809199), (-14.453337005, -12.682425791), (-13.757252439, -11.528463019))
                ThreePointArc((-13.757252439, -11.528463019), (-14.734037631, -11.172244217), (-15.676613793, -10.733437515))
                ThreePointArc((-15.676613793, -10.733437515), (-16.000382579, -12.041618533), (-15.990144217, -13.389230859))
                ThreePointArc((-15.990144217, -13.389230859), (-15.703087752, -13.511738163), (-15.413482434, -13.62809199))
            make_face()
            with BuildLine():
                ThreePointArc((-18.759855783, -11.79013714), (-17.587670094, -11.125197659), (-16.616636492, -10.190715157))
                ThreePointArc((-16.616636492, -10.190715157), (-17.467942324, -9.593823606), (-18.264829452, -8.926012217))
                ThreePointArc((-18.264829452, -8.926012217), (-18.916148245, -10.105820521), (-19.255046482, -11.410163953))
                ThreePointArc((-19.255046482, -11.410163953), (-19.009478453, -11.602792602), (-18.759855783, -11.79013714))
            make_face()
            with BuildLine():
                ThreePointArc((-21.516506507, -9.148703928), (-20.212163074, -8.809805691), (-19.032354771, -8.158486898))
                ThreePointArc((-19.032354771, -8.158486898), (-19.70016616, -7.361599771), (-20.297057711, -6.510293938))
                ThreePointArc((-20.297057711, -6.510293938), (-21.231540213, -7.48132754), (-21.896479694, -8.65351323))
                ThreePointArc((-21.896479694, -8.65351323), (-21.709135156, -8.903135899), (-21.516506507, -9.148703928))
            make_face()
            with BuildLine():
                ThreePointArc((-21.942853375, 2.47620963), (-21.92946485, 2.539366405), (-21.915739337, 2.602450802))
                ThreePointArc((-21.915739337, 2.602450802), (-23.263142697, 2.576605271), (-24.562186363, 2.217928037))
                ThreePointArc((-24.562186363, 2.217928037), (-24.56889027, 2.173784387), (-24.575459377, 2.129620475))
                Line((-24.575459377, 2.129620475), (-21.942853375, 2.47620963))
            make_face()
            with BuildLine():
                ThreePointArc((-23.495573413, -5.883801663), (-22.147961087, -5.894040025), (-20.839780068, -5.57027124))
                ThreePointArc((-20.839780068, -5.57027124), (-20.869365339, -5.512888815), (-20.898643838, -5.455349261))
                Line((-20.898643838, -5.455349261), (-23.531249839, -5.801938416))
                ThreePointArc((-23.531249839, -5.801938416), (-23.513474108, -5.842897269), (-23.495573413, -5.883801663))
            make_face()
        extrude(amount=CUT_EXTRUDE1_DEPTH, mode=Mode.SUBTRACT)

    # Sketch5 → Cut-Extrude2 (cut, up to next)
    with BuildSketch(Plane(origin=(0, 4, 0), x_dir=(1, 0, 0), z_dir=(0, 1, 0)), mode=Mode.PRIVATE) as cut_extrude2_sk1:
        with Locations(Location((-10.106342554, 0, 0), (0, 0, 270))):
            Circle(SKETCH5_R)
    cut_extrude2_tool1 = extrude(cut_extrude2_sk1.sketch, amount=-CUT_EXTRUDE2_REACH, mode=Mode.PRIVATE) & part.part
    add(cut_extrude2_tool1.solids().sort_by_distance((-10.106343, 4, 0))[0], mode=Mode.SUBTRACT)


solid = part.part
